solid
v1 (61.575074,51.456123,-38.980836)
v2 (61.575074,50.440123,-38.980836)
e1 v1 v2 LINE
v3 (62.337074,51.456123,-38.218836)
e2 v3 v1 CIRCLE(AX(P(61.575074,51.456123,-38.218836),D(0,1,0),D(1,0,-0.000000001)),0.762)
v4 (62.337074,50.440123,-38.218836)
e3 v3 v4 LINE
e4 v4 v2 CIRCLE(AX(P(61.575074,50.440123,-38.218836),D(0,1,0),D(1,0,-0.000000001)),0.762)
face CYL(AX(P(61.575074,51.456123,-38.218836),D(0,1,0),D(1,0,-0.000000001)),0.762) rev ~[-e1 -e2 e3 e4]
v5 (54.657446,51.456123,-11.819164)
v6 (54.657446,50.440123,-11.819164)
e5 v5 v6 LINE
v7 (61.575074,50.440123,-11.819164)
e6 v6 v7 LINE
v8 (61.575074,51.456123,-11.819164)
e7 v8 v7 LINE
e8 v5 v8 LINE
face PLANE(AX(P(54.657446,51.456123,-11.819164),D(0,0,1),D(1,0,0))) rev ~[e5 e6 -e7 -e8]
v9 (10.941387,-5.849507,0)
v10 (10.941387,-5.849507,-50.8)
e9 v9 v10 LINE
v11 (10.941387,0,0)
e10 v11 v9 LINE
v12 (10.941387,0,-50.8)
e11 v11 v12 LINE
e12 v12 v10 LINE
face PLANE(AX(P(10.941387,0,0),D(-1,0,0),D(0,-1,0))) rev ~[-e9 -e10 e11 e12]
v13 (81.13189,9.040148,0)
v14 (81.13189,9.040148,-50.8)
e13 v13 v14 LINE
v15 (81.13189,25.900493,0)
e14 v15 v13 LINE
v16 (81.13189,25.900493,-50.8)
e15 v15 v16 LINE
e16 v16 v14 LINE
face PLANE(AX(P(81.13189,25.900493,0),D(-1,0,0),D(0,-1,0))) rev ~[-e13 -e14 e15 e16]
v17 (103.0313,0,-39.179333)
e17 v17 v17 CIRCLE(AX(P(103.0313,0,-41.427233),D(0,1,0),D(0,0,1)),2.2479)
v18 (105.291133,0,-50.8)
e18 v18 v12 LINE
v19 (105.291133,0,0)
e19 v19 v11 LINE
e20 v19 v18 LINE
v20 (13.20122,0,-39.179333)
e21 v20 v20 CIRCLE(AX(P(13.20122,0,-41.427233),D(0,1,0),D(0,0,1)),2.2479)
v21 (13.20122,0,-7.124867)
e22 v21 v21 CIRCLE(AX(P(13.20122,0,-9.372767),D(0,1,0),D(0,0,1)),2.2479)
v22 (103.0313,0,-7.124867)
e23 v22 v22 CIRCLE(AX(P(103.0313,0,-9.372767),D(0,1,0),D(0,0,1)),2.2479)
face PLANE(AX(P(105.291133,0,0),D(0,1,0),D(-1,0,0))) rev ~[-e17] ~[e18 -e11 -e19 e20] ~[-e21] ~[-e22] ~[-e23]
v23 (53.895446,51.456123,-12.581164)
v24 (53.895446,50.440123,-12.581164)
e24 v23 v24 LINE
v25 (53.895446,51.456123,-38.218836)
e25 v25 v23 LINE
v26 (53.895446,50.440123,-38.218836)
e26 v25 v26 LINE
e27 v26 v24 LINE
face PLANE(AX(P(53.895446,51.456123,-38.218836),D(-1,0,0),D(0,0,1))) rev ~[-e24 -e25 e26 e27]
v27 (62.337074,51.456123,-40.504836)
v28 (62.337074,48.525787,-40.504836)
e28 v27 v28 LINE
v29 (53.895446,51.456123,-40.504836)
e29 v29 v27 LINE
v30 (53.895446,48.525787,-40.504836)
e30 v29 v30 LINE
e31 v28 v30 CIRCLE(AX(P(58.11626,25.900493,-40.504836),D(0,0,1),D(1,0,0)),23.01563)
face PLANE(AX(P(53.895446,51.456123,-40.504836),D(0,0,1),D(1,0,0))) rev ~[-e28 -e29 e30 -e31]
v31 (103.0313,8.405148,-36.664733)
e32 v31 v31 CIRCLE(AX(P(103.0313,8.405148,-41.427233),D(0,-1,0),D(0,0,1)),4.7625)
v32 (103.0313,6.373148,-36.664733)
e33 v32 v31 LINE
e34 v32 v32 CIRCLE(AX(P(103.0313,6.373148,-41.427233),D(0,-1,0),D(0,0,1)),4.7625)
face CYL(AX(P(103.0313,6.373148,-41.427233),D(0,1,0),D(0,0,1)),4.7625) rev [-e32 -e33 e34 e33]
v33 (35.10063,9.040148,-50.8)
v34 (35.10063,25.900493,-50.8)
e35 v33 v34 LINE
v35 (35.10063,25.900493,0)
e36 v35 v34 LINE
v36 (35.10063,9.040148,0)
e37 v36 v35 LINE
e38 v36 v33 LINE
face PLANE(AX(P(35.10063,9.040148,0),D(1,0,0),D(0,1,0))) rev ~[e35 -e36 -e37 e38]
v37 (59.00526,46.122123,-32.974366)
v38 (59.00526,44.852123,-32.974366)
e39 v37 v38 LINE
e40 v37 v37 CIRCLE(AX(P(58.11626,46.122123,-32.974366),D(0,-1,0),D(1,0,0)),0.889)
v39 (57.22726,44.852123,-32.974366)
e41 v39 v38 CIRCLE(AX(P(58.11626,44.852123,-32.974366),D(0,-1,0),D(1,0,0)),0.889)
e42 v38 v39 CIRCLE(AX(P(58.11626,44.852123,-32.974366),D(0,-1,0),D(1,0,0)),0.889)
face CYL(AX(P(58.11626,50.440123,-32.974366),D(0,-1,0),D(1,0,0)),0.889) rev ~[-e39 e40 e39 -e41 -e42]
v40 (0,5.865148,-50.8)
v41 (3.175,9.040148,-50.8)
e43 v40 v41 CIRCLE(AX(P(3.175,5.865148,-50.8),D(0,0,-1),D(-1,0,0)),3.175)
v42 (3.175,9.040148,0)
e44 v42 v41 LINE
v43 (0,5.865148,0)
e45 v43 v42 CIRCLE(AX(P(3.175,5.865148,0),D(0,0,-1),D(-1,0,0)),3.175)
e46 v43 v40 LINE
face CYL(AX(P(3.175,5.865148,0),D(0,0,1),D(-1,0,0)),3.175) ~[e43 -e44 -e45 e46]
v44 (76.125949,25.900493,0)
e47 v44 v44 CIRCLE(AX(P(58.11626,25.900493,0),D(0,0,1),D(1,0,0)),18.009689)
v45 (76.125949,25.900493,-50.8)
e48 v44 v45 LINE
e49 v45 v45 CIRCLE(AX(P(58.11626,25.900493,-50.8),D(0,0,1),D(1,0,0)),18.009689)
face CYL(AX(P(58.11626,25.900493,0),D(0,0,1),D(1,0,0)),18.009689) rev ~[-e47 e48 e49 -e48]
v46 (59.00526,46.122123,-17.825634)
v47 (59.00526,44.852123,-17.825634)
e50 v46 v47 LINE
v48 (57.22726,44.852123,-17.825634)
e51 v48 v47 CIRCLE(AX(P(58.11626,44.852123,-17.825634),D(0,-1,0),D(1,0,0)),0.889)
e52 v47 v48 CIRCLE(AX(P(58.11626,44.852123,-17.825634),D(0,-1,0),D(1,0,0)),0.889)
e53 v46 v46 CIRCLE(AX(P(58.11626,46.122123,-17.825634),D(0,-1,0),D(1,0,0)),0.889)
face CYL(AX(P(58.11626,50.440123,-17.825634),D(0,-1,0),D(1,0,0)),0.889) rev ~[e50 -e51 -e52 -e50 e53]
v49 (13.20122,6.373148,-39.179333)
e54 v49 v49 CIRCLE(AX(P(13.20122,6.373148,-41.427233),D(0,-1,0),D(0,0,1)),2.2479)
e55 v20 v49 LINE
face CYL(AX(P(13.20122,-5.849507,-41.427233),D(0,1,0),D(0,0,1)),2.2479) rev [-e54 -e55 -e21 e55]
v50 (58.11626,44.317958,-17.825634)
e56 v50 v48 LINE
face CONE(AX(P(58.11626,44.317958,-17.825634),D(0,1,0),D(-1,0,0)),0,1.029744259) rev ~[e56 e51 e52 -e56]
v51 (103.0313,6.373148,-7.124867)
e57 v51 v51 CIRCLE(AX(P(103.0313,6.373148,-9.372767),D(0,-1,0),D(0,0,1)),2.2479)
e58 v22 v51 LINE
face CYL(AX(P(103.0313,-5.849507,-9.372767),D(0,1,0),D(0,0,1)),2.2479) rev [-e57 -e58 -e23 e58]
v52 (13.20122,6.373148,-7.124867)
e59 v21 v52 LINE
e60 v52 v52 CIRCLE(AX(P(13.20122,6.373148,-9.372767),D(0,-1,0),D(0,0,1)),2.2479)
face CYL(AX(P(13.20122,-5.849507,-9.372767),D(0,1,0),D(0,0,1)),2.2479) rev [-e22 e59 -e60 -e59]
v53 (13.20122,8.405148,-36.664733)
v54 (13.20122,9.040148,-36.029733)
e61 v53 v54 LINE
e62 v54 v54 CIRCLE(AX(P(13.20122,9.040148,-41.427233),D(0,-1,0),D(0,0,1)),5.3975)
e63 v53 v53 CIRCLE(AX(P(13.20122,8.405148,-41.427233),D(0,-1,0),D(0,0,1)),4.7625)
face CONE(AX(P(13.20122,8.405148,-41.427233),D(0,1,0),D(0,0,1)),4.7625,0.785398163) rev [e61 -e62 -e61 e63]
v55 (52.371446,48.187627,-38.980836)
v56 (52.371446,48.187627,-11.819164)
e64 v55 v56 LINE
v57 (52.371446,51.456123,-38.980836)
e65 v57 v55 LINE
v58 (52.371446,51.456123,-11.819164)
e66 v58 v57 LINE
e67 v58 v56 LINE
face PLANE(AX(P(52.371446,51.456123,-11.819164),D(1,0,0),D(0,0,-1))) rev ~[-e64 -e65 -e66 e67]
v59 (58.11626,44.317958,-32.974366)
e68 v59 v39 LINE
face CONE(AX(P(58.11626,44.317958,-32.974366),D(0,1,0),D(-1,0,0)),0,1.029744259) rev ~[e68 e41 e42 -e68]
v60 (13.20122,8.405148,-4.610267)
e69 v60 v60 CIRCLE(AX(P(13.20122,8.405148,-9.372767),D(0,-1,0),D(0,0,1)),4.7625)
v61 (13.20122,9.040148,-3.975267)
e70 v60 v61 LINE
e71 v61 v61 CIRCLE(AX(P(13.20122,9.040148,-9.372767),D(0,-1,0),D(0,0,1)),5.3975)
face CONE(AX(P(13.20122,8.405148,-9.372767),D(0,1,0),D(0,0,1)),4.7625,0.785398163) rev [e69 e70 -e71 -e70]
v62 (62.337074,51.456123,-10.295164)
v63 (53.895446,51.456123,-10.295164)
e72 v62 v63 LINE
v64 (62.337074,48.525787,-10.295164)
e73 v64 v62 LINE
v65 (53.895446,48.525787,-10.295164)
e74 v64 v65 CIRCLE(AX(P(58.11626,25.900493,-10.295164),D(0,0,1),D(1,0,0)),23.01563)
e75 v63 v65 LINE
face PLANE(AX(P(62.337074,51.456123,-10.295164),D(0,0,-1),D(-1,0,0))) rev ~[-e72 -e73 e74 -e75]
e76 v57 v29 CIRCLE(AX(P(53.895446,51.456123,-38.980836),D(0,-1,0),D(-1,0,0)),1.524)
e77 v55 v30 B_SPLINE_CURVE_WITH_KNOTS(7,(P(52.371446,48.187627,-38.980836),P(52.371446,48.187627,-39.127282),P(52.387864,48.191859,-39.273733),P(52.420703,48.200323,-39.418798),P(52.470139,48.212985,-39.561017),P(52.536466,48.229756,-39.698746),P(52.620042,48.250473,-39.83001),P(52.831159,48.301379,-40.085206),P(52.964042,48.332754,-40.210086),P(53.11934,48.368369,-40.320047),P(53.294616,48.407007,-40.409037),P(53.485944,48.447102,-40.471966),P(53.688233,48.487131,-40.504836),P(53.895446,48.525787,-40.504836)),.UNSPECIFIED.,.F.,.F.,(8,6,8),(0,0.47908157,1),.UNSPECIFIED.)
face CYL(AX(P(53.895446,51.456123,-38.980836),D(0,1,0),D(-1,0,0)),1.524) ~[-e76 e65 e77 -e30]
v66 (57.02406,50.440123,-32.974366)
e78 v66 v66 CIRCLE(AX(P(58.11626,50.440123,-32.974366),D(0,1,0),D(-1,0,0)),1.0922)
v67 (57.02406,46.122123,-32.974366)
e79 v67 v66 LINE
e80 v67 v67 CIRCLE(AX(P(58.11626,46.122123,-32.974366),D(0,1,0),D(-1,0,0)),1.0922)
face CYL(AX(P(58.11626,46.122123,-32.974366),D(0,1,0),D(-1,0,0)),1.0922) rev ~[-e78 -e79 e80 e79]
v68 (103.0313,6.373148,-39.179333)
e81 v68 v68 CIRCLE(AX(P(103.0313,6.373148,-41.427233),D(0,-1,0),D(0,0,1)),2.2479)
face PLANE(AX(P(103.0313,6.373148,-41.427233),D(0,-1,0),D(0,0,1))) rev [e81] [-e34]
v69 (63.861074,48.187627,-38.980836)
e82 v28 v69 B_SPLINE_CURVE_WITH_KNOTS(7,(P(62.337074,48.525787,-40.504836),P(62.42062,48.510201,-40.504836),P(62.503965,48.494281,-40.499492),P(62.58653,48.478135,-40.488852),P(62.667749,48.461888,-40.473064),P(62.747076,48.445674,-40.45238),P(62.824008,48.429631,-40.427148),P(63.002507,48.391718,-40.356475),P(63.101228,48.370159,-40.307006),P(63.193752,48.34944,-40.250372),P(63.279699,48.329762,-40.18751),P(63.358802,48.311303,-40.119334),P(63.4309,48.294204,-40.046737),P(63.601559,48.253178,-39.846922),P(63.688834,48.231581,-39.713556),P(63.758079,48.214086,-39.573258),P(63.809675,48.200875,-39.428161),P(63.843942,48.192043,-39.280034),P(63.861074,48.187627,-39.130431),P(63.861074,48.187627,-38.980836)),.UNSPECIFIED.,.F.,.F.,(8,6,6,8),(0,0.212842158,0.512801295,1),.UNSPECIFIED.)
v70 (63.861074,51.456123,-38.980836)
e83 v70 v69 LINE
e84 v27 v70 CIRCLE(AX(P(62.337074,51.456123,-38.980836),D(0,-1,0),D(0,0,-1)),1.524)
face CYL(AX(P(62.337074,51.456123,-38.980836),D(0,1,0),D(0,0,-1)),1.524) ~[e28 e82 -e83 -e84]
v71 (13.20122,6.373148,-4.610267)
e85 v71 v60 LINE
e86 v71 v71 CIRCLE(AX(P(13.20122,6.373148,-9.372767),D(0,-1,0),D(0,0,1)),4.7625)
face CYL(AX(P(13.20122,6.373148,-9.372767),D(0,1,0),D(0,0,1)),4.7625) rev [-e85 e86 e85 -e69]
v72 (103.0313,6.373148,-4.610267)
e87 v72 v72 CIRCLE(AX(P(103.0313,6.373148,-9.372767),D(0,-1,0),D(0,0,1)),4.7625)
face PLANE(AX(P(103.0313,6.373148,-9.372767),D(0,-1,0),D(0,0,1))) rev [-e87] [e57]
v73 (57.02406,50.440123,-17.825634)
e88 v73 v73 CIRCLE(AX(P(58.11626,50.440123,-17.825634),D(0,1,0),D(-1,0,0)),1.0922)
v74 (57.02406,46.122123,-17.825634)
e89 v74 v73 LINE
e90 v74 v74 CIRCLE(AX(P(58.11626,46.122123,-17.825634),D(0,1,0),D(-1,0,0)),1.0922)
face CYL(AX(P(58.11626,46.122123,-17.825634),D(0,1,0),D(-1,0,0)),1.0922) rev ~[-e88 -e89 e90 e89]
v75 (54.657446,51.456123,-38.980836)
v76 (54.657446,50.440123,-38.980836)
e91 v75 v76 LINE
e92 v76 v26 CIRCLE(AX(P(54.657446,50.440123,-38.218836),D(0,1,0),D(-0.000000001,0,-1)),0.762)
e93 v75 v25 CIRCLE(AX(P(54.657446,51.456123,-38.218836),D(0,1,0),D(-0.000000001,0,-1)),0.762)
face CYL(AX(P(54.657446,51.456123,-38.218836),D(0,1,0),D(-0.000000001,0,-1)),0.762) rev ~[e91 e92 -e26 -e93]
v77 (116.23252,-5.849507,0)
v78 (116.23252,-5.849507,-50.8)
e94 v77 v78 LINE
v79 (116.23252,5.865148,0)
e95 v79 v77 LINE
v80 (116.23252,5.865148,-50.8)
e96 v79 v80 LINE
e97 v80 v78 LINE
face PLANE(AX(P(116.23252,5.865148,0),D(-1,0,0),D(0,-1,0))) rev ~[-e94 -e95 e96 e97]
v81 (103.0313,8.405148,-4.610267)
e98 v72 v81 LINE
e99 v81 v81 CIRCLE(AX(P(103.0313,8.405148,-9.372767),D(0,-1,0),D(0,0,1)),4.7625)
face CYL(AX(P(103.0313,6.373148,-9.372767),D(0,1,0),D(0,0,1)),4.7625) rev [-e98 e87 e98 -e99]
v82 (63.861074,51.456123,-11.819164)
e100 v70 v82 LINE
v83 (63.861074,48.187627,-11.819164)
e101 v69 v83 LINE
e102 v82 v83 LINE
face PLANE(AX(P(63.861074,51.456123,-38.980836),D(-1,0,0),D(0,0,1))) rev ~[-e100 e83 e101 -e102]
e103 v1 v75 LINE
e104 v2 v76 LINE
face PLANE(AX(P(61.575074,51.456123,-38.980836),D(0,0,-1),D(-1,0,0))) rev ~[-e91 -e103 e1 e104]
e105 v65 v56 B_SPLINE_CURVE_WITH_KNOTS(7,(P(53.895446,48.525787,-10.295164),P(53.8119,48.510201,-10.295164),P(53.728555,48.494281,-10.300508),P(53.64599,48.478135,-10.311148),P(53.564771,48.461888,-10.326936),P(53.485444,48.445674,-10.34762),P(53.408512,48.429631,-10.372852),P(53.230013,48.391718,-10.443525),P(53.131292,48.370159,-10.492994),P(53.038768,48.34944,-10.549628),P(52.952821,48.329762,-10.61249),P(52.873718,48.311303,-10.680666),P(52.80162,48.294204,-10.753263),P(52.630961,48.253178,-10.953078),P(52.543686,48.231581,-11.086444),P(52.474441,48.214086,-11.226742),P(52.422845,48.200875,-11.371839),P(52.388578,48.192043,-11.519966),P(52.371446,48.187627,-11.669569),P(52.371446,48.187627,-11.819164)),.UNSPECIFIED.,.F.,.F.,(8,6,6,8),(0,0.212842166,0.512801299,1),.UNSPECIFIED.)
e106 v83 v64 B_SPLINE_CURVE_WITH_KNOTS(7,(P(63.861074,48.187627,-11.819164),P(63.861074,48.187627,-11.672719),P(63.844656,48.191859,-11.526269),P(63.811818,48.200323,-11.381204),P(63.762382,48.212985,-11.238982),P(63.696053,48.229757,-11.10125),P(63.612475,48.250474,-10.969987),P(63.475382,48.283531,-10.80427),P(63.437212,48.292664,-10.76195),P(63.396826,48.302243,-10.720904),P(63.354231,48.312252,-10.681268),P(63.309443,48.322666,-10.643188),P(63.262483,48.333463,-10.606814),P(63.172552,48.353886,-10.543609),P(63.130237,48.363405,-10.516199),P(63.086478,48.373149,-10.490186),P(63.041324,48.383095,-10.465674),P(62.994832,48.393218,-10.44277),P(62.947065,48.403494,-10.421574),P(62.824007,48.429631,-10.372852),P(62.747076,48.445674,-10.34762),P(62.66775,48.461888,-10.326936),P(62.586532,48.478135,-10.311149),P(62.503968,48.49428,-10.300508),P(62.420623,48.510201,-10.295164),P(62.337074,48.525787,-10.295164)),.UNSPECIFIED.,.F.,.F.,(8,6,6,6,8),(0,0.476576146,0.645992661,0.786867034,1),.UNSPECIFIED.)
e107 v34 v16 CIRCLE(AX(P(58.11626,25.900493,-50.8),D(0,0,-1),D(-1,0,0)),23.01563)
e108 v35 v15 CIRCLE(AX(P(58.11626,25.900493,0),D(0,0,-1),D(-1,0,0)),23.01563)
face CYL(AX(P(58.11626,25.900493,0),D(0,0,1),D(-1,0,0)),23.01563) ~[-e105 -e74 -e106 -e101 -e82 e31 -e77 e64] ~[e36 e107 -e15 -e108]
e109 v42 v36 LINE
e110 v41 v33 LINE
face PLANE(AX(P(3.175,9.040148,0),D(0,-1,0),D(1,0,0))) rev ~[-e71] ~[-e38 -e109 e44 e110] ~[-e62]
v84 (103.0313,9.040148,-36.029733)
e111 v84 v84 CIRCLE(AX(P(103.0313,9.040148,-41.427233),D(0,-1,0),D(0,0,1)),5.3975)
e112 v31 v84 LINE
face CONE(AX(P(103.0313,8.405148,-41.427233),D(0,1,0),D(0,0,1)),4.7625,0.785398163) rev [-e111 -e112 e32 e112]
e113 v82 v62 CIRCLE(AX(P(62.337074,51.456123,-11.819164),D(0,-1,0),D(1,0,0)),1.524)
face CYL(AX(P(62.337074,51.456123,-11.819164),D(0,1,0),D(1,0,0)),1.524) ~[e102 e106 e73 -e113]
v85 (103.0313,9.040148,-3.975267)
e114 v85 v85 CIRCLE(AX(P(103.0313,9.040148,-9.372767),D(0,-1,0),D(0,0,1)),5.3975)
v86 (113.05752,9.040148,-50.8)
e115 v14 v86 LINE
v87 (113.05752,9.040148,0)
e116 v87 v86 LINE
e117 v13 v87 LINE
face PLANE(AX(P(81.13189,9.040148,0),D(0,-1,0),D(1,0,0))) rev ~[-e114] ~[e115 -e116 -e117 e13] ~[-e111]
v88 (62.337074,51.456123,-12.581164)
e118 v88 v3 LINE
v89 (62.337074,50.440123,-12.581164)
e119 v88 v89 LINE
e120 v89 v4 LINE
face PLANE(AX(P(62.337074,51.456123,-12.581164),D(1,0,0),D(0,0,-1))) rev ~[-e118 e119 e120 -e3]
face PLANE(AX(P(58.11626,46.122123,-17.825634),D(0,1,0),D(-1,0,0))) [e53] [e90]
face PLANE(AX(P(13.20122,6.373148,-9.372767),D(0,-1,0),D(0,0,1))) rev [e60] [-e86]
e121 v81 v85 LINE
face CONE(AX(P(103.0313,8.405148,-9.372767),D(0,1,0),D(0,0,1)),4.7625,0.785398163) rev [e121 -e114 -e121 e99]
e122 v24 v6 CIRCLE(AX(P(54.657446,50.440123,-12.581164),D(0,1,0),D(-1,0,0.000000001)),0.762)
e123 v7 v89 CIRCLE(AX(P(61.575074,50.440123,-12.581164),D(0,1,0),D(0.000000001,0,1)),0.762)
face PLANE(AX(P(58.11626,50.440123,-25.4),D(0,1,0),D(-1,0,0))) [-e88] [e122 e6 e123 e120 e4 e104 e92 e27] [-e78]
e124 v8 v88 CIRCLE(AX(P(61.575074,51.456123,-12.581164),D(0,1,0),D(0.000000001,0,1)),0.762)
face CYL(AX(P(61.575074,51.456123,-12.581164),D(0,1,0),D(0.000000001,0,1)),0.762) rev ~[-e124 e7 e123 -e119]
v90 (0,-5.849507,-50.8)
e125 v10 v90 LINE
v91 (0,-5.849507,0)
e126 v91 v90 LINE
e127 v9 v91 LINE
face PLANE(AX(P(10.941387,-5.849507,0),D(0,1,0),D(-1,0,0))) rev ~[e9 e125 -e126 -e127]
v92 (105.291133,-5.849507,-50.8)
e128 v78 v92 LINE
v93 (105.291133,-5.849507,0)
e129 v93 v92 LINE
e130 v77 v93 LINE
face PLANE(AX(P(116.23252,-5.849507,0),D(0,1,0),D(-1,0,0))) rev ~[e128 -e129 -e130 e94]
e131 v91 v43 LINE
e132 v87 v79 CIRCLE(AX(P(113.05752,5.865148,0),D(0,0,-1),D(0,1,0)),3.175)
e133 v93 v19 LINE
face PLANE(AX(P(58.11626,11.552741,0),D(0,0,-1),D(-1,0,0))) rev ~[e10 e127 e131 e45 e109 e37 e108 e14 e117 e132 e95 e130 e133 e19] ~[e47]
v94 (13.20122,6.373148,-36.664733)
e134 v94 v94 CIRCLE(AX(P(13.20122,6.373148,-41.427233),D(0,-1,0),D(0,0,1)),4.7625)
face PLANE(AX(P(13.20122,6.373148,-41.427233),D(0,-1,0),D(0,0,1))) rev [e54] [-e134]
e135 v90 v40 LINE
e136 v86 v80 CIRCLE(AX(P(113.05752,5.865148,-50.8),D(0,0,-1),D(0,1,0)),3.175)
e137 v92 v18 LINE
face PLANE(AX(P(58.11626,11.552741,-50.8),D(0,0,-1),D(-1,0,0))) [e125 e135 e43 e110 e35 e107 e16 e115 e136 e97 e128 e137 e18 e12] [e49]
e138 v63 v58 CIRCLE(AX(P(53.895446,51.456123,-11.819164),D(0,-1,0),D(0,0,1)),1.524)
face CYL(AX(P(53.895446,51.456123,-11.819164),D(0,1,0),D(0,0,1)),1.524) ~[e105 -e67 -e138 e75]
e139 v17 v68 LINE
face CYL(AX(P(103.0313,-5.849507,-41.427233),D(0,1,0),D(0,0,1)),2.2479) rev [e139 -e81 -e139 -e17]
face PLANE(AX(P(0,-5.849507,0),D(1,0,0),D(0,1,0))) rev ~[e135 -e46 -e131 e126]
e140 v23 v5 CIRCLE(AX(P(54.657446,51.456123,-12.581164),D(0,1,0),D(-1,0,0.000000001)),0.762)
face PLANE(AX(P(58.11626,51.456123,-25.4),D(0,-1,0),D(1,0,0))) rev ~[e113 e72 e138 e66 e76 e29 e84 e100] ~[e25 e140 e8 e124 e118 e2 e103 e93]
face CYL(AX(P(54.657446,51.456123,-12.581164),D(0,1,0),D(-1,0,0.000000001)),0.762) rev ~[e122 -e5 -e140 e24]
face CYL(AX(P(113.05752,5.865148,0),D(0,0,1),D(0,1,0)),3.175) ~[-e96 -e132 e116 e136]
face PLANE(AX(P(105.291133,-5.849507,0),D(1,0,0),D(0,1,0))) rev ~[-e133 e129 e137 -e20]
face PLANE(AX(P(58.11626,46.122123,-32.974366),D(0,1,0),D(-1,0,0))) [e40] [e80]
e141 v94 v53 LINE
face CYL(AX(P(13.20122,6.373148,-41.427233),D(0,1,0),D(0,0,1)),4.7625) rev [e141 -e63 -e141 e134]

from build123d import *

# Parameters (mm, degrees)
SKETCH1_R                                   = 18.009689256
EXTRUDE1_DEPTH                              = 50.8
EXTRUDE2_REACH                              = 141.193
EXTRUDE2_END_RADIUS                         = 23.015630095
SKETCH3_OUTSIDE_W                           = 146.071
SKETCH3_OUTSIDE_H                           = 80.638
EXTRUDE3_DEPTH                              = 1.016
F_2_64_TAPPED_HOLE1_D                       = 1.778
F_2_64_TAPPED_HOLE1_DEPTH                   = 5.588
F_2_64_TAPPED_HOLE1_CBORE_D                 = 2.1844
F_2_64_TAPPED_HOLE1_CBORE_DEPTH             = 4.318
F_2_64_TAPPED_HOLE1_TIP                     = 0.53416509
CBORE_FOR_8_BINDING_HEAD_MACHINE_SC_2_COUNT = 2
CBORE_FOR_8_BINDING_HEAD_MACHINE_SC_2_PITCH = 32.054466339
CBORE_FOR_8_BINDING_HEAD_MACHINE_SC_3_COUNT = 2
CBORE_FOR_8_BINDING_HEAD_MACHINE_SC_3_PITCH = 89.830079482
CBORE_FOR_8_BINDING_HEAD_MACHINE_SC_4_COUNT = 2
CBORE_FOR_8_BINDING_HEAD_MACHINE_SC_4_PITCH = 95.377838055


with BuildPart() as part:
    # Sketch1 → Extrude1 (new body)
    with BuildSketch(Plane.XY):
        with BuildLine():
            Line((81.131890127, 9.040147783), (113.057520064, 9.040147783))
            ThreePointArc((113.057520064, 9.040147783), (115.302584094, 8.110211814), (116.232520064, 5.865147783))
            Line((116.232520064, 5.865147783), (116.232520064, 0))
            Line((116.232520064, 0), (116.232520064, -5.849507389))
            Line((116.232520064, -5.849507389), (105.291133005, -5.849507389))
            Line((105.291133005, -5.849507389), (105.291133005, 0))
            Line((105.291133005, 0), (10.941387059, 0))
            Line((10.941387059, 0), (10.941387059, -5.849507389))
            Line((10.941387059, -5.849507389), (0, -5.849507389))
            Line((0, -5.849507389), (0, 0))
            Line((0, 0), (0, 5.865147783))
            ThreePointArc((0, 5.865147783), (0.92993597, 8.110211814), (3.175, 9.040147783))
            Line((3.175, 9.040147783), (35.100629937, 9.040147783))
            Line((35.100629937, 9.040147783), (35.100629937, 25.900492611))
            ThreePointArc((35.100629937, 25.900492611), (58.116260032, 48.916122706), (81.131890127, 25.900492611))
            Line((81.131890127, 25.900492611), (81.131890127, 9.040147783))
        make_face()
        with Locations((58.116260032, 25.900492611)):
            Circle(SKETCH1_R, mode=Mode.SUBTRACT)
    extrude(amount=-EXTRUDE1_DEPTH)

    # Extrude2: up to this cylinder (the profile starts outside it)
    extrude2_end = Plane(origin=(58.116260032, 25.900492611, -25.4), z_dir=(0, 0, 1)) * Cylinder(EXTRUDE2_END_RADIUS, 329.41726019, mode=Mode.PRIVATE)
    # Sketch2 → Extrude2 (add, up to the surface)
    with BuildSketch(Plane(origin=(0, 51.456122706, 0), x_dir=(-1, 0, 0), z_dir=(0, 1, 0)), mode=Mode.PRIVATE) as extrude2_sk1:
        with BuildLine():
            Line((-62.33707365, -10.295164467), (-53.895446414, -10.295164467))
            ThreePointArc((-53.895446414, -10.295164467), (-52.81781568, -10.741533732), (-52.371446414, -11.819164467))
            Line((-52.371446414, -11.819164467), (-52.371446414, -38.980835533))
            ThreePointArc((-52.371446414, -38.980835533), (-52.81781568, -40.058466268), (-53.895446414, -40.504835533))
            Line((-53.895446414, -40.504835533), (-62.33707365, -40.504835533))
            ThreePointArc((-62.33707365, -40.504835533), (-63.414704384, -40.058466268), (-63.86107365, -38.980835533))
            Line((-63.86107365, -38.980835533), (-63.86107365, -11.819164467))
            ThreePointArc((-63.86107365, -11.819164467), (-63.414704384, -10.741533732), (-62.33707365, -10.295164467))
        make_face()
    extrude2_tool1 = extrude(extrude2_sk1.sketch, amount=-EXTRUDE2_REACH, mode=Mode.PRIVATE) - extrude2_end
    add(extrude2_tool1.solids().sort_by_distance((58.11626, 51.456123, -25.4))[0])

    # Sketch3 outside → Extrude3 (cut)
    # profile 1 of 2: a face of its own
    with BuildSketch(Plane(origin=(0, 51.456122706, 0), x_dir=(-1, 0, 0), z_dir=(0, 1, 0))):
        with Locations((-58.1165, -25.4)):
            Rectangle(SKETCH3_OUTSIDE_W, SKETCH3_OUTSIDE_H)
        with BuildLine():
            Line((-63.86107365, -11.819164467), (-63.86107365, -38.980835533))
            ThreePointArc((-63.86107365, -38.980835533), (-63.414704384, -40.058466268), (-62.33707365, -40.504835533))
            Line((-62.33707365, -40.504835533), (-53.895446414, -40.504835533))
            ThreePointArc((-53.895446414, -40.504835533), (-52.81781568, -40.058466268), (-52.371446414, -38.980835533))
            Line((-52.371446414, -38.980835533), (-52.371446414, -11.819164467))
            ThreePointArc((-52.371446414, -11.819164467), (-52.81781568, -10.741533732), (-53.895446414, -10.295164467))
            Line((-53.895446414, -10.295164467), (-62.33707365, -10.295164467))
            ThreePointArc((-62.33707365, -10.295164467), (-63.414704384, -10.741533732), (-63.86107365, -11.819164467))
        make_face(mode=Mode.SUBTRACT)
    # profile 2 of 2: a face of its own
    with BuildSketch(Plane(origin=(0, 51.456122706, 0), x_dir=(-1, 0, 0), z_dir=(0, 1, 0))):
        with BuildLine():
            Line((-54.657446414, -11.819164467), (-61.57507365, -11.819164467))
            ThreePointArc((-61.57507365, -11.819164467), (-62.113889017, -12.0423491), (-62.33707365, -12.581164467))
            Line((-62.33707365, -12.581164467), (-62.33707365, -38.218835533))
            ThreePointArc((-62.33707365, -38.218835533), (-62.113889017, -38.7576509), (-61.57507365, -38.980835533))
            Line((-61.57507365, -38.980835533), (-54.657446414, -38.980835533))
            ThreePointArc((-54.657446414, -38.980835533), (-54.118631047, -38.7576509), (-53.895446414, -38.218835533))
            Line((-53.895446414, -38.218835533), (-53.895446414, -12.581164467))
            ThreePointArc((-53.895446414, -12.581164467), (-54.118631047, -12.0423491), (-54.657446414, -11.819164467))
        make_face()
    extrude(amount=-EXTRUDE3_DEPTH, mode=Mode.SUBTRACT)

    # #2-64 Tapped Hole1
    with Locations(Plane(origin=(0, 50.440122706, 0), x_dir=(-1, 0, 0), z_dir=(0, 1, 0))):
        with Locations((-58.116260032, -17.825633593), (-58.116260032, -32.974366407)):
            CounterBoreHole(F_2_64_TAPPED_HOLE1_D / 2, F_2_64_TAPPED_HOLE1_CBORE_D / 2, F_2_64_TAPPED_HOLE1_CBORE_DEPTH, depth=F_2_64_TAPPED_HOLE1_DEPTH)
            with Locations((0, 0, -(F_2_64_TAPPED_HOLE1_DEPTH + F_2_64_TAPPED_HOLE1_TIP / 2))):  # 118° drill point
                Cone(0, F_2_64_TAPPED_HOLE1_D / 2, F_2_64_TAPPED_HOLE1_TIP, mode=Mode.SUBTRACT)

    # Sketch8 → CBORE for #8 Binding Head Machine Screw1 (revolve, cut)
    with BuildSketch(Plane(origin=(103.031299773, 9.040147783, -9.372766831), x_dir=(0, 0, 1), z_dir=(1, 0, 0))):
        Polygon((0, 0), (0, 14.889655172), (2.2479, 14.889655172), (2.2479, 2.667), (4.7625, 2.667), (4.7625, 0.635), (5.3975, 0), align=None)
    cbore_for_8_binding_head_machine_screw1 = revolve(axis=Axis((103.031299773, 15.390147783, -9.372766831), (0, -1, 0)), mode=Mode.SUBTRACT)

    # CBORE for _8 Binding Head Machine Sc 2: CBORE for #8 Binding Head Machine Screw1 ×2
    with Locations(*[(0, 0, -i * CBORE_FOR_8_BINDING_HEAD_MACHINE_SC_2_PITCH) for i in range(1, CBORE_FOR_8_BINDING_HEAD_MACHINE_SC_2_COUNT)]):
        add(cbore_for_8_binding_head_machine_screw1, mode=Mode.SUBTRACT)

    # CBORE for _8 Binding Head Machine Sc 3: CBORE for #8 Binding Head Machine Screw1 ×2
    with Locations(*[(-i * CBORE_FOR_8_BINDING_HEAD_MACHINE_SC_3_PITCH, 0, 0) for i in range(1, CBORE_FOR_8_BINDING_HEAD_MACHINE_SC_3_COUNT)]):
        add(cbore_for_8_binding_head_machine_screw1, mode=Mode.SUBTRACT)

    # CBORE for _8 Binding Head Machine Sc 4: CBORE for #8 Binding Head Machine Screw1 ×2
    with Locations(*[Vector(-0.941833882106029, 0, -0.33607876832237826) * (i * CBORE_FOR_8_BINDING_HEAD_MACHINE_SC_4_PITCH) for i in range(1, CBORE_FOR_8_BINDING_HEAD_MACHINE_SC_4_COUNT)]):
        add(cbore_for_8_binding_head_machine_screw1, mode=Mode.SUBTRACT)


solid = part.part
